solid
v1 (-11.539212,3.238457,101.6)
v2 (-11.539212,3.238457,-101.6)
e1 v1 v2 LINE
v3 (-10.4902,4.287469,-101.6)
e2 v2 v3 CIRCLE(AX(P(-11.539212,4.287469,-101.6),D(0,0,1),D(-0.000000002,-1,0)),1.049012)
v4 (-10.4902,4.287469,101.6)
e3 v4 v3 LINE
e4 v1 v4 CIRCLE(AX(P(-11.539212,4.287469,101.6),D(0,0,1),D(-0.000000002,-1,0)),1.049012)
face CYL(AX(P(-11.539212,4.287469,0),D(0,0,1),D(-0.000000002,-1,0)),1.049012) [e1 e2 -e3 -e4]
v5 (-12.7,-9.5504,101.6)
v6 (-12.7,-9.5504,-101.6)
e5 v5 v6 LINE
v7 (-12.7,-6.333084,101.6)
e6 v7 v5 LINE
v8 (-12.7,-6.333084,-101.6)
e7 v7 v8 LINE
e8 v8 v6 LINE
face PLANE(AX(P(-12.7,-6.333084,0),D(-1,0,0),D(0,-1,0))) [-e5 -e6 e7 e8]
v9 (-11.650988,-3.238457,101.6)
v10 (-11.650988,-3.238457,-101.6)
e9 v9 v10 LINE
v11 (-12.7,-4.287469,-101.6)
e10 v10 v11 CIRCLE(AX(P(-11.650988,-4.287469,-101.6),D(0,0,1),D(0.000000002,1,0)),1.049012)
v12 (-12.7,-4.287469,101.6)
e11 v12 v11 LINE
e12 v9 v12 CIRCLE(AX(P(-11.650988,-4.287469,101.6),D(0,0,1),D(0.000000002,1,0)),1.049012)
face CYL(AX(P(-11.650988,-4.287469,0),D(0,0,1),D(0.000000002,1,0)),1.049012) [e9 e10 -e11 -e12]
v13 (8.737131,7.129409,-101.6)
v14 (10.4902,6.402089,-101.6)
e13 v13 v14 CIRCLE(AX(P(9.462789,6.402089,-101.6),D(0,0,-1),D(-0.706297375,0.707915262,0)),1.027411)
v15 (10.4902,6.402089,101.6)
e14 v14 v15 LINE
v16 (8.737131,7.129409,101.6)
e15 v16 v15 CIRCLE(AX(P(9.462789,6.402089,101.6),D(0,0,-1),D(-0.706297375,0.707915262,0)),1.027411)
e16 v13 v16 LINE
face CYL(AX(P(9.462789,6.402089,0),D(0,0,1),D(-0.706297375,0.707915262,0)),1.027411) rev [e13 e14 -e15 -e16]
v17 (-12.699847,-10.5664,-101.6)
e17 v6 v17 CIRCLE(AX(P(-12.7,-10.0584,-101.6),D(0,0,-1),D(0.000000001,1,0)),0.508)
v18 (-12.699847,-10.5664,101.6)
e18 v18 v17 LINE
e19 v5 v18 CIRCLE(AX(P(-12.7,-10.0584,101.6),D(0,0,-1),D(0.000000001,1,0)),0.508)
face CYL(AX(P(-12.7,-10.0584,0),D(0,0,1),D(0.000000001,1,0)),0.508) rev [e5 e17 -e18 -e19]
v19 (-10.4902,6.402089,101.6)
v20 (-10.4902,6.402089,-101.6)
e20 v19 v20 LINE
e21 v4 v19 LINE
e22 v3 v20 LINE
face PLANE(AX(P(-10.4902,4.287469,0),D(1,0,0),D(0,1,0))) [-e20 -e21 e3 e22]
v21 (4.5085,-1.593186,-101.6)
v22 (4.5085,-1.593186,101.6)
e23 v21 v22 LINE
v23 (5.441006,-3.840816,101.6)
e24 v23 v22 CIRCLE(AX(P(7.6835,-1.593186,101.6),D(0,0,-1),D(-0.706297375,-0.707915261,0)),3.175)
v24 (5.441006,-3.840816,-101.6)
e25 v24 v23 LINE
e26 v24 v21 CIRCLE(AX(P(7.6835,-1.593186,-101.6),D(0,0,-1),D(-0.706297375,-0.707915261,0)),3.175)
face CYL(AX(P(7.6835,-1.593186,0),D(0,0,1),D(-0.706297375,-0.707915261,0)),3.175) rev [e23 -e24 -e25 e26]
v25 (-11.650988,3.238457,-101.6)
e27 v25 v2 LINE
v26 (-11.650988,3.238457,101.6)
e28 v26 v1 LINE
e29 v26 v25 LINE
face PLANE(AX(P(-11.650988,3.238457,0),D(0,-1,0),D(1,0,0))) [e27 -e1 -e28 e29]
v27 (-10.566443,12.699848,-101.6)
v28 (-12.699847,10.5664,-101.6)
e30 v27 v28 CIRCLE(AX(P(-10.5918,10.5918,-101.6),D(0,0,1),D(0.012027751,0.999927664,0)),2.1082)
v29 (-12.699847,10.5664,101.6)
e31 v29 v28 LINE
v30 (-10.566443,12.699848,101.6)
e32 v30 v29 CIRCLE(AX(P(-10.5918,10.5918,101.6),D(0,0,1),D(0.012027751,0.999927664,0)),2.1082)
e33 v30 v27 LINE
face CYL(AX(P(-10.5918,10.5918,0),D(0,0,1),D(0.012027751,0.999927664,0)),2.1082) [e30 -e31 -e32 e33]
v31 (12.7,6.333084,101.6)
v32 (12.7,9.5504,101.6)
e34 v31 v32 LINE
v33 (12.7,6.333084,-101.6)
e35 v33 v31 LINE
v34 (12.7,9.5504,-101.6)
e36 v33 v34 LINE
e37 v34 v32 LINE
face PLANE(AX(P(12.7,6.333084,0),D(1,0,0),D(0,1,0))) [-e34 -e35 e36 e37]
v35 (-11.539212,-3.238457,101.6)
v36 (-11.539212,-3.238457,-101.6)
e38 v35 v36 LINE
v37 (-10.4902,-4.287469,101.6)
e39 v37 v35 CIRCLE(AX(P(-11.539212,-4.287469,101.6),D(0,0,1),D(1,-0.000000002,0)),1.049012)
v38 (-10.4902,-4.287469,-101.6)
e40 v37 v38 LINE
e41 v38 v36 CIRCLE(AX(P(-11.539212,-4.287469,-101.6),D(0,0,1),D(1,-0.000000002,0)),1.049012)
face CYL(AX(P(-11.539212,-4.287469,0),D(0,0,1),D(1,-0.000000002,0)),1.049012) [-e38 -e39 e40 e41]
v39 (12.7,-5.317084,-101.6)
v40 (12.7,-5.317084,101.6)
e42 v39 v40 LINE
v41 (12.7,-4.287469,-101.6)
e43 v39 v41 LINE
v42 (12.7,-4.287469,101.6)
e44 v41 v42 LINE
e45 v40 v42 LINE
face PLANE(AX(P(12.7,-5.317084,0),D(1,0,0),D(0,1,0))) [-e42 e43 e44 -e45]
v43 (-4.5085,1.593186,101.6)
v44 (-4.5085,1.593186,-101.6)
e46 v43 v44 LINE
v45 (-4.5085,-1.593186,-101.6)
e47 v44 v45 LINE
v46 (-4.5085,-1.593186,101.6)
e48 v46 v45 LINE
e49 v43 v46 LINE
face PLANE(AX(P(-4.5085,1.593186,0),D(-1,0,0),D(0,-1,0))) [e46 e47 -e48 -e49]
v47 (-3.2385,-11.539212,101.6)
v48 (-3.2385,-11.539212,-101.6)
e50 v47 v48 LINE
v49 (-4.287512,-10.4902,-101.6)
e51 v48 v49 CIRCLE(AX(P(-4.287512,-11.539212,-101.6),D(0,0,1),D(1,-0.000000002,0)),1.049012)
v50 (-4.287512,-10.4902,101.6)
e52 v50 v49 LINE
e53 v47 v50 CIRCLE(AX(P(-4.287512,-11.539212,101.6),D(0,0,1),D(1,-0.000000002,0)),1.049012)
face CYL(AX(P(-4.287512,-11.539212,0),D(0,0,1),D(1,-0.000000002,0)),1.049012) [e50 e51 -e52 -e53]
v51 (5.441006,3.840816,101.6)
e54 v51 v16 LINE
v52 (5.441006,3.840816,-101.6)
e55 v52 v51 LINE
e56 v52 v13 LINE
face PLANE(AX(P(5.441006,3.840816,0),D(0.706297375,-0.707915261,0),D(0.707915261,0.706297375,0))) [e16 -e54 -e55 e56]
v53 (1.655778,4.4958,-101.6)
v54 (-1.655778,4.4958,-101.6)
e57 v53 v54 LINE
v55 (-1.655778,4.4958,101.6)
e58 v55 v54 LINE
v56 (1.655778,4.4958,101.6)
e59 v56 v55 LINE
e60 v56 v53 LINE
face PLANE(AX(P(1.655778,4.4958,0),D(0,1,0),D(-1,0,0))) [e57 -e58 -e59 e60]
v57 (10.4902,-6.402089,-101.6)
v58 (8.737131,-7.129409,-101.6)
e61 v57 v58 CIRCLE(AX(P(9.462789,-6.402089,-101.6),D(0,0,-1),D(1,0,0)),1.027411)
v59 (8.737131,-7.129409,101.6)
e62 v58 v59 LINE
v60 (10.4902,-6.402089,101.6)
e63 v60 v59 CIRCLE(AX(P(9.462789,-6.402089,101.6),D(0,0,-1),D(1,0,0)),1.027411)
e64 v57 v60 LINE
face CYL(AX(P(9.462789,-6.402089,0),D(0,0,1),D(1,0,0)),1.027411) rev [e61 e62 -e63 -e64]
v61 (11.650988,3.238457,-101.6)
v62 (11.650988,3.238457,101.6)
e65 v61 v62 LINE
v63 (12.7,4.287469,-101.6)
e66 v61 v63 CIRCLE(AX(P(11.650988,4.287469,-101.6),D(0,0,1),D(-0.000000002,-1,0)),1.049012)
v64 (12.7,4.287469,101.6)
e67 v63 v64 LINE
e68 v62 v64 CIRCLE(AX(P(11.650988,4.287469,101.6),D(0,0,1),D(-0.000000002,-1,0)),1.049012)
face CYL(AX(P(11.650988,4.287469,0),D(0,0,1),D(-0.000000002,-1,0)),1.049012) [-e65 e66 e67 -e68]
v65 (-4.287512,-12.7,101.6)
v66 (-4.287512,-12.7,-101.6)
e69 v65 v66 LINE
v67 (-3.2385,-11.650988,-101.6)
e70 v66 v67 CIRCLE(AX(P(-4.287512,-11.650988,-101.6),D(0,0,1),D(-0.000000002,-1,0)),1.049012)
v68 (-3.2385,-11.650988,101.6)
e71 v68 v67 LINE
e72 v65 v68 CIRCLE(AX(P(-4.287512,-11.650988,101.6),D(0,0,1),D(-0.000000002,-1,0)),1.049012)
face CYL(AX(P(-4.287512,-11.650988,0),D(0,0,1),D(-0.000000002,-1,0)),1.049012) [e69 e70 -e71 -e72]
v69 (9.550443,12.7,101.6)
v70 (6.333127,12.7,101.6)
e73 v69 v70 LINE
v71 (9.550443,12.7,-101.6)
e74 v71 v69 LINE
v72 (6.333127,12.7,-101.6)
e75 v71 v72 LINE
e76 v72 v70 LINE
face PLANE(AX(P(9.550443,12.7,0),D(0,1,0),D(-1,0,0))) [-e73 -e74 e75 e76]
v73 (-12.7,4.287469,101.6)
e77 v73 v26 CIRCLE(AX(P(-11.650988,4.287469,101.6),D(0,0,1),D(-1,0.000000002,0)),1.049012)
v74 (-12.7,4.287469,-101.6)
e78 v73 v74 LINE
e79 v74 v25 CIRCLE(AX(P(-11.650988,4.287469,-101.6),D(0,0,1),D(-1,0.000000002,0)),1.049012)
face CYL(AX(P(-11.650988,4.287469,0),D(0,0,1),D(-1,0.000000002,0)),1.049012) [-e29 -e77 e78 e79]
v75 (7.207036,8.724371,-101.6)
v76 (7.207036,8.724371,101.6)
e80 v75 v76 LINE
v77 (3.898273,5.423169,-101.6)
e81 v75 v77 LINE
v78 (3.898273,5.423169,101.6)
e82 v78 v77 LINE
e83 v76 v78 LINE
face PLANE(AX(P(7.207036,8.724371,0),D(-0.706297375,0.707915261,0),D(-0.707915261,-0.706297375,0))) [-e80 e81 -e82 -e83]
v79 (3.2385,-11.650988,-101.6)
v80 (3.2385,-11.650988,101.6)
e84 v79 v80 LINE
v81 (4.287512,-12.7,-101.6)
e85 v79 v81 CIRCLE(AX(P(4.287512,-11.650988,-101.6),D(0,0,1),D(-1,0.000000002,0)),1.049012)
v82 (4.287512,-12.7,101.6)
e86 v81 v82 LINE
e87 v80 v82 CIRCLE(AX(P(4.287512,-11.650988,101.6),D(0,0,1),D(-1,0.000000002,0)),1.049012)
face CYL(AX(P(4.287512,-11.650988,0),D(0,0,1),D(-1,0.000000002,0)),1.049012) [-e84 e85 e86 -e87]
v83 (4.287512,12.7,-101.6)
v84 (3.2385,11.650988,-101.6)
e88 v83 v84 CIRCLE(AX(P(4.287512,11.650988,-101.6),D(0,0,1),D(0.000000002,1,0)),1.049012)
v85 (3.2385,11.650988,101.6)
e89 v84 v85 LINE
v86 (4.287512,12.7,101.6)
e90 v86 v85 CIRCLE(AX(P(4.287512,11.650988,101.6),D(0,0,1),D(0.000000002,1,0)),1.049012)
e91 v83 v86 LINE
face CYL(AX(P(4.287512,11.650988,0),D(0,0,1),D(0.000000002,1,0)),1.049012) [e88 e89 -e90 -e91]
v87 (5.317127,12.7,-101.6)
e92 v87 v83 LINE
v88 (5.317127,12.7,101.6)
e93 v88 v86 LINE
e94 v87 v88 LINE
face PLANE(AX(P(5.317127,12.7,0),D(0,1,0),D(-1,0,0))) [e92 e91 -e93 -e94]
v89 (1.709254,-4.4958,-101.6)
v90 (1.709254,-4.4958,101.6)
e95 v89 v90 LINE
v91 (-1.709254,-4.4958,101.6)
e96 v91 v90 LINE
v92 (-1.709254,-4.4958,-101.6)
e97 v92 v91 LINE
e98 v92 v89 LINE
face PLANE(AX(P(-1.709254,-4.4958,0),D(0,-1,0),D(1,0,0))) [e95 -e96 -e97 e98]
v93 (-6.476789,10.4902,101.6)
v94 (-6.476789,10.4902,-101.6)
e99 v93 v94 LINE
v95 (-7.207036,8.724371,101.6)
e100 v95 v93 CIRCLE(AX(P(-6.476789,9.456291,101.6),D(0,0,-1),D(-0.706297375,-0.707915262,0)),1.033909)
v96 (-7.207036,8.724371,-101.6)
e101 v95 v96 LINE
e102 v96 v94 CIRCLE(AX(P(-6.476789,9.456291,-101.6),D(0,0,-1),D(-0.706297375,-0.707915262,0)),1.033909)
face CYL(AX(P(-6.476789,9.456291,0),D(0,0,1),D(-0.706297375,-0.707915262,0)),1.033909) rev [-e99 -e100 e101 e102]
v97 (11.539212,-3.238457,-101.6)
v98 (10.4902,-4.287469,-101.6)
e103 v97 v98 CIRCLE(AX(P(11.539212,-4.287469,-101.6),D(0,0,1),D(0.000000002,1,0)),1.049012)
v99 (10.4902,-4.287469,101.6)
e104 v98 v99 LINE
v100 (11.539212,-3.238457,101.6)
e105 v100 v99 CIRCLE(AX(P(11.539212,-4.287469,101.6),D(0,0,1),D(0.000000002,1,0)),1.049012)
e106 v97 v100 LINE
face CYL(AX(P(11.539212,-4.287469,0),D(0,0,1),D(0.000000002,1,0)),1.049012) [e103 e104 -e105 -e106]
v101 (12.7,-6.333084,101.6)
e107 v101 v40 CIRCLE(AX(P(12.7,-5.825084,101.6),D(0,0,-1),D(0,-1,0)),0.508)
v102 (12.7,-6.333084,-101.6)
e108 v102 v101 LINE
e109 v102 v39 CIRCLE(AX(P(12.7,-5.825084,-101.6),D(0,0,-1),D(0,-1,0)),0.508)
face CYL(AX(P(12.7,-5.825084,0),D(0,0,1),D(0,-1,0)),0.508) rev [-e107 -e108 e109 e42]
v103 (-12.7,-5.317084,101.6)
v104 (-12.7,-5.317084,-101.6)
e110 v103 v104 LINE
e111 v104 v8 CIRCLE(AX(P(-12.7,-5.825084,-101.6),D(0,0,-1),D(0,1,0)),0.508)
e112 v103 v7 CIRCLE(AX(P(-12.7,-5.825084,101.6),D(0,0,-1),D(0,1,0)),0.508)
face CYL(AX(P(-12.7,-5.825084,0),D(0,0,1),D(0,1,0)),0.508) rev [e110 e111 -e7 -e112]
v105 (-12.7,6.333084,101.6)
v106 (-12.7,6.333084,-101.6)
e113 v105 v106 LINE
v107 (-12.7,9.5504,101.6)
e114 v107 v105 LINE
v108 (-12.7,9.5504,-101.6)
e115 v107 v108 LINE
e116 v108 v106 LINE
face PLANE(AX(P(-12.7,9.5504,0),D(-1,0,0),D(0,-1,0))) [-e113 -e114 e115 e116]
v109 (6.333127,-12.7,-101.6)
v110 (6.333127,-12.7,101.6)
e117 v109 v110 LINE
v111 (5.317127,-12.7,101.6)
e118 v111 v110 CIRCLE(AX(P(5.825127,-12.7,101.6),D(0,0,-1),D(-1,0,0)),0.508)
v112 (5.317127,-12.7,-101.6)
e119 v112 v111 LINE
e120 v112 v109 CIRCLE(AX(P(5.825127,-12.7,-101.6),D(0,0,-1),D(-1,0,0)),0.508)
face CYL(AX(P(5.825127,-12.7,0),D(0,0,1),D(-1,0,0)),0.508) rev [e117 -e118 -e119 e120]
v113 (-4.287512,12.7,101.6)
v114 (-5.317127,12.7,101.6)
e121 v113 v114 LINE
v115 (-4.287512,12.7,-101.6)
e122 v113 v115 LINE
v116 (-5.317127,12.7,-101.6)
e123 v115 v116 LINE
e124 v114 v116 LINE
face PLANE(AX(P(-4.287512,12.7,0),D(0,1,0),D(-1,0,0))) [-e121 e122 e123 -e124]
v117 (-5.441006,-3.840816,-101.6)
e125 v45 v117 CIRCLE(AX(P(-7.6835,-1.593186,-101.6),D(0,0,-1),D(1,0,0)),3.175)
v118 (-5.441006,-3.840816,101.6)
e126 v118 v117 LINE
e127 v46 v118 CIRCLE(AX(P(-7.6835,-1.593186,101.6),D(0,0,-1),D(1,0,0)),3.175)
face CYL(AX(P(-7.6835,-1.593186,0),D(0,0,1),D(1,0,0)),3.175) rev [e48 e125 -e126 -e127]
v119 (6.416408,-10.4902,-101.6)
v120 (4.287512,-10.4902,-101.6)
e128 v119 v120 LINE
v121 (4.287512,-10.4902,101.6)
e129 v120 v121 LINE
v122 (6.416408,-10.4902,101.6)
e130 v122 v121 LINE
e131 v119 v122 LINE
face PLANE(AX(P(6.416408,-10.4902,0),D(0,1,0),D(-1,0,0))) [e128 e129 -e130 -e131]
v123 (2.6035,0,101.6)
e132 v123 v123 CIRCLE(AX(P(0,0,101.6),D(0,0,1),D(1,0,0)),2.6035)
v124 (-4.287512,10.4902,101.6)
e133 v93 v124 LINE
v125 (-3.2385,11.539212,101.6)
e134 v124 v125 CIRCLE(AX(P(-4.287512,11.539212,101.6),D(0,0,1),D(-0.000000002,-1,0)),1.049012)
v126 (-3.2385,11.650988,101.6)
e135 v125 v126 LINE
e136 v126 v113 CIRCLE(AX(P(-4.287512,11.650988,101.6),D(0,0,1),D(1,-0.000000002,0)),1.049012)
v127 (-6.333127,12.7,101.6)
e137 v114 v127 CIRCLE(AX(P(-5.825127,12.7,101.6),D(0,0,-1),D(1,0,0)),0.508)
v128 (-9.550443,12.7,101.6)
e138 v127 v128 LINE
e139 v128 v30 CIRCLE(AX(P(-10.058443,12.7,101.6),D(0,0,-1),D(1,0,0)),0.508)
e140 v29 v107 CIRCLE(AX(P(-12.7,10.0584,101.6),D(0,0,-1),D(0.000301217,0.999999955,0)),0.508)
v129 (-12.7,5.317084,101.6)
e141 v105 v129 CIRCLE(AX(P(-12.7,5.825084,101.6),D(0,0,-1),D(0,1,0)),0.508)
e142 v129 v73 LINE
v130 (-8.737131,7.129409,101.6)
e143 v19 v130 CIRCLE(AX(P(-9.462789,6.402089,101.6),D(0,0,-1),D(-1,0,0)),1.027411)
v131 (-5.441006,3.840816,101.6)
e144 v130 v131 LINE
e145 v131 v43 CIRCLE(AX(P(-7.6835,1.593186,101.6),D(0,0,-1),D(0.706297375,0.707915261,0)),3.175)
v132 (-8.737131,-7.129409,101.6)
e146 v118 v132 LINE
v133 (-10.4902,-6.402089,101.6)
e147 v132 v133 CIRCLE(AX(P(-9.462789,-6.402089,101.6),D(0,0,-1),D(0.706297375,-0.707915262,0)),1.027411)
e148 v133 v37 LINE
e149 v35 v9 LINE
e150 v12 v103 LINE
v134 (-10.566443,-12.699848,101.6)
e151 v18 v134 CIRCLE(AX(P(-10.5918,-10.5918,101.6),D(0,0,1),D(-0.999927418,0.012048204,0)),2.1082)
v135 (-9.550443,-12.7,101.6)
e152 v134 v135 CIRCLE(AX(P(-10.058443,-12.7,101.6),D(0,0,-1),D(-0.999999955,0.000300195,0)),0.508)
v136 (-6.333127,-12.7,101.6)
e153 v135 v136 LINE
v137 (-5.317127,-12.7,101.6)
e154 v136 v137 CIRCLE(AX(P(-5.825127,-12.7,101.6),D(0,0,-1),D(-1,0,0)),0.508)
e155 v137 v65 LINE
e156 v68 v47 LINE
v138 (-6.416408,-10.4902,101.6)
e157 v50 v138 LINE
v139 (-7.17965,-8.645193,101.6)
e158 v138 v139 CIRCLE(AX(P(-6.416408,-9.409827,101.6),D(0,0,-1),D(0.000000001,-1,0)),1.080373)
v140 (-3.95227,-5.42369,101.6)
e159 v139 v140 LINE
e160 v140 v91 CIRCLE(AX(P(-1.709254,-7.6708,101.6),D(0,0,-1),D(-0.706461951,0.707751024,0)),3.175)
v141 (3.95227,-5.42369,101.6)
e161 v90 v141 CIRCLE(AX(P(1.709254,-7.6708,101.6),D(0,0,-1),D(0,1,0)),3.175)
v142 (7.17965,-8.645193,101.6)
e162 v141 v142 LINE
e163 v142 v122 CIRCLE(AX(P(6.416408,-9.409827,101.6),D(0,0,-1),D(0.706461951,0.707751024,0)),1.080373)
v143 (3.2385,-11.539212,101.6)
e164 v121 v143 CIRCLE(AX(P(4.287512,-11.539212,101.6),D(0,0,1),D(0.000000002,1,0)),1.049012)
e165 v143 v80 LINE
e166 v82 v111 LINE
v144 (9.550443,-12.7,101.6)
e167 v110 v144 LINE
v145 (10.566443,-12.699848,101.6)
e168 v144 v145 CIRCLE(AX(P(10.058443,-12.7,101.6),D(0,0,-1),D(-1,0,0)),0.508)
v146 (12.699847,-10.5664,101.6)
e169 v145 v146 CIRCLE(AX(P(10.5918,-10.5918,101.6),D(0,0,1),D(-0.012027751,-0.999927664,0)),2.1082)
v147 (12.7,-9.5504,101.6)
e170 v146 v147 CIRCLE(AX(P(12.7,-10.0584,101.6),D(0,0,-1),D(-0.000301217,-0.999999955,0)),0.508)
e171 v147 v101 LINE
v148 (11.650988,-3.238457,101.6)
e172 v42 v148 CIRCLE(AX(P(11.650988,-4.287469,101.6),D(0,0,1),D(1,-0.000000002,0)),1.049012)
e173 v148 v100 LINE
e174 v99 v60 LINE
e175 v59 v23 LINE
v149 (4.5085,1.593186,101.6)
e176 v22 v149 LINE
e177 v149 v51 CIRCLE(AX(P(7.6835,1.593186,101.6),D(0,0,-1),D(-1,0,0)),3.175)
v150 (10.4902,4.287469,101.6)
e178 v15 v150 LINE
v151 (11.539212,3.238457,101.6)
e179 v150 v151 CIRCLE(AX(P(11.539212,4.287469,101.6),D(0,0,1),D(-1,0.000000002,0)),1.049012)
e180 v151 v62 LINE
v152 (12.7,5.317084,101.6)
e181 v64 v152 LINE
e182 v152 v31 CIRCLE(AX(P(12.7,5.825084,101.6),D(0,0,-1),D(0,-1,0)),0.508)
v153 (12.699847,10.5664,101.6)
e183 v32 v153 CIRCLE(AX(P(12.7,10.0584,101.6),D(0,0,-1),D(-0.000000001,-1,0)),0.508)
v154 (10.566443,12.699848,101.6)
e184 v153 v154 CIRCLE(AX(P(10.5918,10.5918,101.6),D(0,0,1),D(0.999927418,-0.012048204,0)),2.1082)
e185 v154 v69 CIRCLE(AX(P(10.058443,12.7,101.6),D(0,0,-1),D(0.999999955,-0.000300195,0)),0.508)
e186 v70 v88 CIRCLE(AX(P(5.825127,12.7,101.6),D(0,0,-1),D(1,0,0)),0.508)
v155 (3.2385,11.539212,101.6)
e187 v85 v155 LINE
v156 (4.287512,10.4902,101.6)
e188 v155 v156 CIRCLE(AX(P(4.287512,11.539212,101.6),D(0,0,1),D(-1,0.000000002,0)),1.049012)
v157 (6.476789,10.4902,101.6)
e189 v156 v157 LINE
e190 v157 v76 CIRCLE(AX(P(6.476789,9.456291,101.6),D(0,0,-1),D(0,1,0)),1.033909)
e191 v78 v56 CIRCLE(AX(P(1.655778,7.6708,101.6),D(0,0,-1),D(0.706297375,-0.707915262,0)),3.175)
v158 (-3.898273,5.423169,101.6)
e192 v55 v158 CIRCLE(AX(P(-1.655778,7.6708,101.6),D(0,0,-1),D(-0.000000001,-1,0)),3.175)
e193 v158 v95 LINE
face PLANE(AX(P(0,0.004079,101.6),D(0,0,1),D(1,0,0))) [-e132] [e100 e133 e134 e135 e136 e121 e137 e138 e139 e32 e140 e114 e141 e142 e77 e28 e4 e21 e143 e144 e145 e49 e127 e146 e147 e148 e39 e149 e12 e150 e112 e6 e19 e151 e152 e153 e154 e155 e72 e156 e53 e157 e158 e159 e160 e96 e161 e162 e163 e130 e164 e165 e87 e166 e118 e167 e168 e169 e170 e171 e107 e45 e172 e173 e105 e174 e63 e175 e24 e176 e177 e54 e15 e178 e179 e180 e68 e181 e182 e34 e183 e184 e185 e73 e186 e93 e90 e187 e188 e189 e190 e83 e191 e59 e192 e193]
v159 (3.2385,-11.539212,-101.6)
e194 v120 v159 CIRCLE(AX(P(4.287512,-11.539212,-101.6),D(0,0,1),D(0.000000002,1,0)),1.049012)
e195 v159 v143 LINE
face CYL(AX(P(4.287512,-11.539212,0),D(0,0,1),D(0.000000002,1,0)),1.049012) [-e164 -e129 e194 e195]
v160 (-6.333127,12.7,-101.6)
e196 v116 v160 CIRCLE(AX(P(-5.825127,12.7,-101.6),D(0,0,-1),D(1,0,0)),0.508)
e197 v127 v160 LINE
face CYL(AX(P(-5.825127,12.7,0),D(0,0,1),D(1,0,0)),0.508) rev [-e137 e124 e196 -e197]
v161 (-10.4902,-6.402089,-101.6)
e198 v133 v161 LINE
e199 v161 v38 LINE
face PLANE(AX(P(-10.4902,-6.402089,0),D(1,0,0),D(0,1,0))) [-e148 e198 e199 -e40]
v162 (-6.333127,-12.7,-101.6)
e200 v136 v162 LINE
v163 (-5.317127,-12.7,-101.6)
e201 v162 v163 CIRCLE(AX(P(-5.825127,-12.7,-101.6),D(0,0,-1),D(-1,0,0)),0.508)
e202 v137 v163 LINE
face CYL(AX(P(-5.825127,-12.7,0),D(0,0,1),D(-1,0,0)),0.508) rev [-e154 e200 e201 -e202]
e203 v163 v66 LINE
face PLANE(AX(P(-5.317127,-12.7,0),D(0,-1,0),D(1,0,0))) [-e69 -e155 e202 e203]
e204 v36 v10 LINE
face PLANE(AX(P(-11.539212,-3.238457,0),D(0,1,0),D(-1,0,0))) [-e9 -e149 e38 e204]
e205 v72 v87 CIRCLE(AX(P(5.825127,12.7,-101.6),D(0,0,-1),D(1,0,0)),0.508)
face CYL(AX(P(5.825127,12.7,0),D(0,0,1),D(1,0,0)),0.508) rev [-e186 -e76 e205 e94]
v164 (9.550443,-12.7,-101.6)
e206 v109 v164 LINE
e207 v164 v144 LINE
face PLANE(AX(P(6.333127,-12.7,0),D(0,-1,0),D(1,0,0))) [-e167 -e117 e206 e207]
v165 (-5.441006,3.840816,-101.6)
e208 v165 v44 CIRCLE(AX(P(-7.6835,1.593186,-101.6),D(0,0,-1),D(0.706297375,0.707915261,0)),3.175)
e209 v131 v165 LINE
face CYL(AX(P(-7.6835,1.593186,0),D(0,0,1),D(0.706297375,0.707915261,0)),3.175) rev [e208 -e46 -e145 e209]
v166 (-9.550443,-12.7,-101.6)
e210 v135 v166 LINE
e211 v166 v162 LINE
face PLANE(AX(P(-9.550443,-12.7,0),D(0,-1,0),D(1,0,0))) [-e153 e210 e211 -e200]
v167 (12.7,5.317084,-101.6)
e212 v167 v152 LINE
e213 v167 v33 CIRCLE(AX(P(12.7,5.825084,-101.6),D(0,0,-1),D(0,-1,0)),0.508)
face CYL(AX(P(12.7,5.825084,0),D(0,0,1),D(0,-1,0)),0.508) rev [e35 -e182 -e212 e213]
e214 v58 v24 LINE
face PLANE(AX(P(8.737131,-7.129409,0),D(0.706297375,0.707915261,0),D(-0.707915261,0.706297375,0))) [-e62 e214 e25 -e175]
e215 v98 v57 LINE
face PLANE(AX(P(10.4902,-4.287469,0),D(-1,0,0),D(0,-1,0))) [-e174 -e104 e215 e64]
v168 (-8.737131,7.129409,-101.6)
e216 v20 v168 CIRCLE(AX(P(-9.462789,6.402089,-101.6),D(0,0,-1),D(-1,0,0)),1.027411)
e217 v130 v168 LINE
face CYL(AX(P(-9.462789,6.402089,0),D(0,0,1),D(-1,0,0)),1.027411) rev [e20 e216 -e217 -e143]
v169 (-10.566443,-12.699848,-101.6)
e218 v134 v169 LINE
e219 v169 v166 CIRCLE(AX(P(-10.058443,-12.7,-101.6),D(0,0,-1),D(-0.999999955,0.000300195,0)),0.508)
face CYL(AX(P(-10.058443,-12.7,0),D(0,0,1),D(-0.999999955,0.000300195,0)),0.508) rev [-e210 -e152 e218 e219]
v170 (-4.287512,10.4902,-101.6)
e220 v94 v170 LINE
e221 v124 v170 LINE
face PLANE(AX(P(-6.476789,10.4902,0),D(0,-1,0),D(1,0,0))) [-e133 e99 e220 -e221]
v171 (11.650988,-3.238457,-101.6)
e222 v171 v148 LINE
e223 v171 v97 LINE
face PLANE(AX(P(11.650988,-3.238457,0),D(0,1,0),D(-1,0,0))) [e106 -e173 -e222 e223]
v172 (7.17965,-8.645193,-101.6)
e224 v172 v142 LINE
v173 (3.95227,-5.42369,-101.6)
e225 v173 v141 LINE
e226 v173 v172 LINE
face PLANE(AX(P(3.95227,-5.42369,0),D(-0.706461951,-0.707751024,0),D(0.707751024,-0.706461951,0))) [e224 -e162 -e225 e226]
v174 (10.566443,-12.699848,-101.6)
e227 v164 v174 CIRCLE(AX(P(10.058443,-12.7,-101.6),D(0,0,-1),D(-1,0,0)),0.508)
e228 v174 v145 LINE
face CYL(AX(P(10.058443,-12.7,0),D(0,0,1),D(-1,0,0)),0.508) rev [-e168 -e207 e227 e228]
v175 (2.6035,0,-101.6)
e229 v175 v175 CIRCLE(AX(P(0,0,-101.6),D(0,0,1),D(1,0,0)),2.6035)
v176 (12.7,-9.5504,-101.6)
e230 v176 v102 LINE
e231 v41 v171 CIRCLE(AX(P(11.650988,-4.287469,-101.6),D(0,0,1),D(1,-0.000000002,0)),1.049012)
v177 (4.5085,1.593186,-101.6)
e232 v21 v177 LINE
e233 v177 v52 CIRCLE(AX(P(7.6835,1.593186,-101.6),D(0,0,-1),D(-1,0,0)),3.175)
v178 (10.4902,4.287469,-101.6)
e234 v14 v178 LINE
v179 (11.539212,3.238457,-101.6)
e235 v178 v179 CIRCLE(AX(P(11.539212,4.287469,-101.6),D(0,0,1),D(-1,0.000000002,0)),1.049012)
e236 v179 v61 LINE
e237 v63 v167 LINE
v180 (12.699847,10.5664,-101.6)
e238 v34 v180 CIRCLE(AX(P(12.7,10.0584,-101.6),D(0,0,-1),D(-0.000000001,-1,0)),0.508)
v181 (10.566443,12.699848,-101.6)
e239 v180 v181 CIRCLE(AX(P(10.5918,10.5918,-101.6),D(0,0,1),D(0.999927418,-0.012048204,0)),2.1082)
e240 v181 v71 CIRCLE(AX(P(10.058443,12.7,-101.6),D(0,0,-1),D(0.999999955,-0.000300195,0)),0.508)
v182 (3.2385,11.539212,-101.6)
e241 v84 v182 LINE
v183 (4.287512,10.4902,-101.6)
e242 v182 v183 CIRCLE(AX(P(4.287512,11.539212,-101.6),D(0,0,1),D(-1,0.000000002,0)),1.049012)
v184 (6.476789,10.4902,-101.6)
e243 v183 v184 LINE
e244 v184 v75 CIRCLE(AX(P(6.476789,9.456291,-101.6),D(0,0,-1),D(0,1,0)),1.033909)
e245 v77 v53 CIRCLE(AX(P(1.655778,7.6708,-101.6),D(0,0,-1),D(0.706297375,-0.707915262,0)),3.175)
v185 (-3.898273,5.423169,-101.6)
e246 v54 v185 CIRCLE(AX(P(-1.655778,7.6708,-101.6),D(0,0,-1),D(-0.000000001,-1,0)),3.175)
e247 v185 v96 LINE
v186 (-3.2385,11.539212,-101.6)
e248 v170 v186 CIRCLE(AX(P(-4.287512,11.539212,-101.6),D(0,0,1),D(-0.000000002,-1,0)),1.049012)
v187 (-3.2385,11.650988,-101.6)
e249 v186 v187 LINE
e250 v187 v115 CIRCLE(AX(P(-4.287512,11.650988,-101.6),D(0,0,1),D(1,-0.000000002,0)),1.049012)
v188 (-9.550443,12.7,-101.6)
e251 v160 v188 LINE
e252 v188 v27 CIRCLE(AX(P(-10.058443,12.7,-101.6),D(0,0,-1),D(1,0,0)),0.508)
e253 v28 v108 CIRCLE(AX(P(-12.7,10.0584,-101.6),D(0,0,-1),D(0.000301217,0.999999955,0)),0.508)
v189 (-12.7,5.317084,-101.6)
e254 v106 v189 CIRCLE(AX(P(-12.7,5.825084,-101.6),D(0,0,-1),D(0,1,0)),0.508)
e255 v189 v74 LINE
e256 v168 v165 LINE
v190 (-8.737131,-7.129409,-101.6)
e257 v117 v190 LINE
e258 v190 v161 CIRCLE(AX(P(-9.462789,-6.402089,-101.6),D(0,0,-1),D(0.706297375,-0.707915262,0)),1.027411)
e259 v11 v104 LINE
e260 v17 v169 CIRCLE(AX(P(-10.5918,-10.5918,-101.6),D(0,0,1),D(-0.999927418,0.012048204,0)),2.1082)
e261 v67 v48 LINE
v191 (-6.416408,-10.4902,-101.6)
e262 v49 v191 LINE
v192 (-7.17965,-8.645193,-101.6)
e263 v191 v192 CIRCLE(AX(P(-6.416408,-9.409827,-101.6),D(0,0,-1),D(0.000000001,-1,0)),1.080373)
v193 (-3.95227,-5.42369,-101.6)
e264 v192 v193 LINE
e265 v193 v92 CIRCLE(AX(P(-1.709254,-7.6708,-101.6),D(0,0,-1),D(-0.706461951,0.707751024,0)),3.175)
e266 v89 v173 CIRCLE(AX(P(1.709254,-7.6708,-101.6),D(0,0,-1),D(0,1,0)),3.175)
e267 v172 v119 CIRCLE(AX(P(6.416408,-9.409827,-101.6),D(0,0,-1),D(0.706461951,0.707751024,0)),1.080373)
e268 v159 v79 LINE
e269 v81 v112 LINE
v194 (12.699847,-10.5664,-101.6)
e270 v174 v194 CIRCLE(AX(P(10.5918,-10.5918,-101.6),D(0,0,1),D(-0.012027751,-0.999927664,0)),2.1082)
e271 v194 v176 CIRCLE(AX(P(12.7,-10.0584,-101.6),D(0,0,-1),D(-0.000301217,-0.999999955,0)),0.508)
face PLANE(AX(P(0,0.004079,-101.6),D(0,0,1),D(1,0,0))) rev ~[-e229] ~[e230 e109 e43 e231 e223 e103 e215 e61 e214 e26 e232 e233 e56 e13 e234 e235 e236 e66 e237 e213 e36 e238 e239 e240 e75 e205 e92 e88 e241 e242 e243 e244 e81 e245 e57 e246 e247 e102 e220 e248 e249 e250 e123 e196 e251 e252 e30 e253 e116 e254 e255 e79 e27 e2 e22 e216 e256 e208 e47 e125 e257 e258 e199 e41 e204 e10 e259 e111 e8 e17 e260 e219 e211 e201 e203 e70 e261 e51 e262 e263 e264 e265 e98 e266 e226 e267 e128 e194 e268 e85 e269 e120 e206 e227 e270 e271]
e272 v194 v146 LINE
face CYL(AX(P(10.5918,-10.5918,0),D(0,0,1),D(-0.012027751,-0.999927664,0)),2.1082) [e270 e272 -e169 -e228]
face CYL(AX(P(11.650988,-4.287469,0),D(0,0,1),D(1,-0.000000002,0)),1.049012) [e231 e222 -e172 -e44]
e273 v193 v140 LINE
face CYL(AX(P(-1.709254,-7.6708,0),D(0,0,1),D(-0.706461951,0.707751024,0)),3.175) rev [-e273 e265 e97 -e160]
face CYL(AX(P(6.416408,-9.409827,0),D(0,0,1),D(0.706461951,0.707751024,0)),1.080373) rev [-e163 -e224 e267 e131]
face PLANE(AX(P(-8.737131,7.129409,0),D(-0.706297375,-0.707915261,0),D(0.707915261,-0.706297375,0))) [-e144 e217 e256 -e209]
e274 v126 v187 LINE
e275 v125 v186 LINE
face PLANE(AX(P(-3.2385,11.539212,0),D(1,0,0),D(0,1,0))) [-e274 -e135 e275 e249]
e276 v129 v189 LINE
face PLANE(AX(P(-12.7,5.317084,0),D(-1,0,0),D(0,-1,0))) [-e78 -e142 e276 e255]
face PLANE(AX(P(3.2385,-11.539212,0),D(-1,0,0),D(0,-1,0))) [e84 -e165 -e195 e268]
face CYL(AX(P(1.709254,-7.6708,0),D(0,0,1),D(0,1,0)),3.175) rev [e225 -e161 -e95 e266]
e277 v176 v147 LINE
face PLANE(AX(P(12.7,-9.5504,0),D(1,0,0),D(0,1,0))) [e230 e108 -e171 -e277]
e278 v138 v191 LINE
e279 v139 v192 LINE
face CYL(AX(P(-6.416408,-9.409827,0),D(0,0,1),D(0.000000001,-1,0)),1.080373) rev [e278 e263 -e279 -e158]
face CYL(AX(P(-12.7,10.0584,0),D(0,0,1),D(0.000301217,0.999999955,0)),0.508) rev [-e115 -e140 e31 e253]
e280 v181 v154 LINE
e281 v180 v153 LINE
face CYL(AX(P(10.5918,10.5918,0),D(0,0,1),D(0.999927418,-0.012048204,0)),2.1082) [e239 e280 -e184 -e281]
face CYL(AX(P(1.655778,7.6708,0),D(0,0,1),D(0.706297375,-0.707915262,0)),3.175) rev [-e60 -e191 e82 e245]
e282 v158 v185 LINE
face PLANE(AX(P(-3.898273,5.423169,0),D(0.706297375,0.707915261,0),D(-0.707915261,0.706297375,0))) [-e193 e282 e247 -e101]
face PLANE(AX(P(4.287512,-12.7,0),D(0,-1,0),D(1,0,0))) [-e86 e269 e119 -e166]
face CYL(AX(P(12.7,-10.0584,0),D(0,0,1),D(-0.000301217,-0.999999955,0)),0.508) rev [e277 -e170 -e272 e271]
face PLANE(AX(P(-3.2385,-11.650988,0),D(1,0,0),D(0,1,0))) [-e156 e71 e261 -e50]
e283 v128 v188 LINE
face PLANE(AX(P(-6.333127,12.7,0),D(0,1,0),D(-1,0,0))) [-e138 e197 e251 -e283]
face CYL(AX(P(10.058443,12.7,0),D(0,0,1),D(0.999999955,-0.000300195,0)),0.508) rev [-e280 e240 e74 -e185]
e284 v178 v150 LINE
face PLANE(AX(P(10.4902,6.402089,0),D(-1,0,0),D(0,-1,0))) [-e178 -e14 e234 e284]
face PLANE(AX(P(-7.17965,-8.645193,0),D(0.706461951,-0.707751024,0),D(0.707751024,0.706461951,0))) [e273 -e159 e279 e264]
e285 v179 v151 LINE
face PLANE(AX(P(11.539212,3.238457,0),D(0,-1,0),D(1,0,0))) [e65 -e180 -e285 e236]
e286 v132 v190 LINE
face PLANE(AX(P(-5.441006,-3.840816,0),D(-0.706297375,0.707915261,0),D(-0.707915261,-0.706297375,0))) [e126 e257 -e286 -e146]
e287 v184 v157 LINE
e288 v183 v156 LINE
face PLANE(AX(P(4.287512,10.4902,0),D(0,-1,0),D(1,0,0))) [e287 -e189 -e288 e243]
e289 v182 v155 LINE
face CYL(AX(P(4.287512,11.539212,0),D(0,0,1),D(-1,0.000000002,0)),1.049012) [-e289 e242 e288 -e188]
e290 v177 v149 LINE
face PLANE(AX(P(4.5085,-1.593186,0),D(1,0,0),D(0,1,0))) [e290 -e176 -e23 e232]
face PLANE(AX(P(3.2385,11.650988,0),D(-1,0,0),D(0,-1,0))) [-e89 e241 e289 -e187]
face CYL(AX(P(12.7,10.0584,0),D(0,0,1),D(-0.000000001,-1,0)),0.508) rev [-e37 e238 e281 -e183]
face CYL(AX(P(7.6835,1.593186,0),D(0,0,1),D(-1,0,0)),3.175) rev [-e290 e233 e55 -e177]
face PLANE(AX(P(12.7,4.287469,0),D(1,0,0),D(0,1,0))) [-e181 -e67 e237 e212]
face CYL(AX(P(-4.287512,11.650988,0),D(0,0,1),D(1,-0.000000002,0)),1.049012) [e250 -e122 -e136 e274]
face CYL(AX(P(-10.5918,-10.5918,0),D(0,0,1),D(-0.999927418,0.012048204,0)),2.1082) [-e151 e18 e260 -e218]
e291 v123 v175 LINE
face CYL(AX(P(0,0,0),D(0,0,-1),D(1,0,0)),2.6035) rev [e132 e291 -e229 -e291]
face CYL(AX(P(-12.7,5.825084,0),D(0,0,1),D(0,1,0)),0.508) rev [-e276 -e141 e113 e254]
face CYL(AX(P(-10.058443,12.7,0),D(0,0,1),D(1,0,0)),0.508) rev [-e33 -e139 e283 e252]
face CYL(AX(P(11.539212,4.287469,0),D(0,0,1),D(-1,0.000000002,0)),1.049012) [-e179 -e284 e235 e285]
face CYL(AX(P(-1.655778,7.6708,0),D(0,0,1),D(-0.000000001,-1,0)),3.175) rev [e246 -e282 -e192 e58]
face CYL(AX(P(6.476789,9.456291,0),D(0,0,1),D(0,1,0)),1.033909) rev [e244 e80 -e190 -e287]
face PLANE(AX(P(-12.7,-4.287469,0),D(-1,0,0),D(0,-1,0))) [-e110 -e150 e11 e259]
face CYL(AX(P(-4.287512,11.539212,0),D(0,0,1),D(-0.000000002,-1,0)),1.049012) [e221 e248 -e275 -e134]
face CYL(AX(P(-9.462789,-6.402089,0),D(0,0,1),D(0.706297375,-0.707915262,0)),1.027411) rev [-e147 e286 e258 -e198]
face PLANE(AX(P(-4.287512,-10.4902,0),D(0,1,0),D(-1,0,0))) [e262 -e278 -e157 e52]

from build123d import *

# Parameters (mm, degrees)
SKETCH3_R           = 2.6035
BOSS_EXTRUDE1_DEPTH = 101.6


with BuildPart() as part:
    # Sketch3 → Boss-Extrude1 (new body, symmetric)
    with BuildSketch(Plane.XY):
        with BuildLine():
            Line((-7.179650497, -8.645192506), (-3.952270251, -5.423690499))
            ThreePointArc((-3.952270251, -5.423690499), (-2.922936451, -4.736929036), (-1.709253557, -4.4958))
            Line((-1.709253557, -4.4958), (1.709253557, -4.4958))
            ThreePointArc((1.709253557, -4.4958), (2.922936451, -4.736929036), (3.952270251, -5.423690499))
            Line((3.952270251, -5.423690499), (7.179650497, -8.645192506))
            ThreePointArc((7.179650497, -8.645192506), (7.41473083, -9.822813117), (6.416408329, -10.4902))
            Line((6.416408329, -10.4902), (4.287512407, -10.4902))
            ThreePointArc((4.287512407, -10.4902), (3.54574862, -10.79744862), (3.2385, -11.539212407))
            Line((3.2385, -11.539212407), (3.2385, -11.650987593))
            ThreePointArc((3.2385, -11.650987593), (3.54574862, -12.39275138), (4.287512407, -12.7))
            Line((4.287512407, -12.7), (5.317126718, -12.7))
            ThreePointArc((5.317126718, -12.7), (5.825126718, -12.192), (6.333126718, -12.7))
            Line((6.333126718, -12.7), (9.550443118, -12.7))
            ThreePointArc((9.550443118, -12.7), (10.058366869, -12.192000006), (10.566443095, -12.699847501))
            ThreePointArc((10.566443095, -12.699847501), (12.082537762, -12.08250727), (12.699846982, -10.566399977))
            ThreePointArc((12.699846982, -10.566399977), (12.192000006, -10.058323491), (12.7, -9.5504))
            Line((12.7, -9.5504), (12.7, -6.3330836))
            ThreePointArc((12.7, -6.3330836), (12.192, -5.8250836), (12.7, -5.3170836))
            Line((12.7, -5.3170836), (12.7, -4.287469289))
            ThreePointArc((12.7, -4.287469289), (12.39275138, -3.545705502), (11.650987593, -3.238456882))
            Line((11.650987593, -3.238456882), (11.539212407, -3.238456882))
            ThreePointArc((11.539212407, -3.238456882), (10.79744862, -3.545705502), (10.4902, -4.287469289))
            Line((10.4902, -4.287469289), (10.4902, -6.402089023))
            ThreePointArc((10.4902, -6.402089023), (9.856505071, -7.351067942), (8.737131347, -7.129408934))
            Line((8.737131347, -7.129408934), (5.441005833, -3.840816462))
            ThreePointArc((5.441005833, -3.840816462), (4.750877967, -2.809883091), (4.5085, -1.593185507))
            Line((4.5085, -1.593185507), (4.5085, 1.593185507))
            ThreePointArc((4.5085, 1.593185507), (4.750877967, 2.809883091), (5.441005833, 3.840816462))
            Line((5.441005833, 3.840816462), (8.737131347, 7.129408934))
            ThreePointArc((8.737131347, 7.129408934), (9.856505071, 7.351067942), (10.4902, 6.402089023))
            Line((10.4902, 6.402089023), (10.4902, 4.287469289))
            ThreePointArc((10.4902, 4.287469289), (10.79744862, 3.545705502), (11.539212407, 3.238456882))
            Line((11.539212407, 3.238456882), (11.650987593, 3.238456882))
            ThreePointArc((11.650987593, 3.238456882), (12.39275138, 3.545705502), (12.7, 4.287469289))
            Line((12.7, 4.287469289), (12.7, 5.3170836))
            ThreePointArc((12.7, 5.3170836), (12.192, 5.8250836), (12.7, 6.3330836))
            Line((12.7, 6.3330836), (12.7, 9.5504))
            ThreePointArc((12.7, 9.5504), (12.192000006, 10.058323491), (12.699846982, 10.566399977))
            ThreePointArc((12.699846982, 10.566399977), (12.082537762, 12.08250727), (10.566443095, 12.699847501))
            ThreePointArc((10.566443095, 12.699847501), (10.058366869, 12.192000006), (9.550443118, 12.7))
            Line((9.550443118, 12.7), (6.333126718, 12.7))
            ThreePointArc((6.333126718, 12.7), (5.825126718, 12.192), (5.317126718, 12.7))
            Line((5.317126718, 12.7), (4.287512407, 12.7))
            ThreePointArc((4.287512407, 12.7), (3.54574862, 12.39275138), (3.2385, 11.650987593))
            Line((3.2385, 11.650987593), (3.2385, 11.539212407))
            ThreePointArc((3.2385, 11.539212407), (3.54574862, 10.79744862), (4.287512407, 10.4902))
            Line((4.287512407, 10.4902), (6.476788598, 10.4902))
            ThreePointArc((6.476788598, 10.4902), (7.432222385, 9.85140422), (7.207036008, 8.724370562))
            Line((7.207036008, 8.724370562), (3.898272566, 5.423169045))
            ThreePointArc((3.898272566, 5.423169045), (2.869120213, 4.736787962), (1.655778399, 4.4958))
            Line((1.655778399, 4.4958), (-1.655778399, 4.4958))
            ThreePointArc((-1.655778399, 4.4958), (-2.869120213, 4.736787962), (-3.898272566, 5.423169045))
            Line((-3.898272566, 5.423169045), (-7.207036008, 8.724370562))
            ThreePointArc((-7.207036008, 8.724370562), (-7.432222385, 9.85140422), (-6.476788598, 10.4902))
            Line((-6.476788598, 10.4902), (-4.287512407, 10.4902))
            ThreePointArc((-4.287512407, 10.4902), (-3.54574862, 10.79744862), (-3.2385, 11.539212407))
            Line((-3.2385, 11.539212407), (-3.2385, 11.650987593))
            ThreePointArc((-3.2385, 11.650987593), (-3.54574862, 12.39275138), (-4.287512407, 12.7))
            Line((-4.287512407, 12.7), (-5.317126718, 12.7))
            ThreePointArc((-5.317126718, 12.7), (-5.825126718, 12.192), (-6.333126718, 12.7))
            Line((-6.333126718, 12.7), (-9.550443118, 12.7))
            ThreePointArc((-9.550443118, 12.7), (-10.058366869, 12.192000006), (-10.566443095, 12.699847501))
            ThreePointArc((-10.566443095, 12.699847501), (-12.082537762, 12.08250727), (-12.699846982, 10.566399977))
            ThreePointArc((-12.699846982, 10.566399977), (-12.192000006, 10.058323491), (-12.7, 9.5504))
            Line((-12.7, 9.5504), (-12.7, 6.3330836))
            ThreePointArc((-12.7, 6.3330836), (-12.192, 5.8250836), (-12.7, 5.3170836))
            Line((-12.7, 5.3170836), (-12.7, 4.287469289))
            ThreePointArc((-12.7, 4.287469289), (-12.39275138, 3.545705502), (-11.650987593, 3.238456882))
            Line((-11.650987593, 3.238456882), (-11.539212407, 3.238456882))
            ThreePointArc((-11.539212407, 3.238456882), (-10.79744862, 3.545705502), (-10.4902, 4.287469289))
            Line((-10.4902, 4.287469289), (-10.4902, 6.402089023))
            ThreePointArc((-10.4902, 6.402089023), (-9.856505071, 7.351067942), (-8.737131347, 7.129408934))
            Line((-8.737131347, 7.129408934), (-5.441005833, 3.840816462))
            ThreePointArc((-5.441005833, 3.840816462), (-4.750877967, 2.809883091), (-4.5085, 1.593185507))
            Line((-4.5085, 1.593185507), (-4.5085, -1.593185507))
            ThreePointArc((-4.5085, -1.593185507), (-4.750877967, -2.809883091), (-5.441005833, -3.840816462))
            Line((-5.441005833, -3.840816462), (-8.737131347, -7.129408934))
            ThreePointArc((-8.737131347, -7.129408934), (-9.856505071, -7.351067942), (-10.4902, -6.402089023))
            Line((-10.4902, -6.402089023), (-10.4902, -4.287469289))
            ThreePointArc((-10.4902, -4.287469289), (-10.79744862, -3.545705502), (-11.539212407, -3.238456882))
            Line((-11.539212407, -3.238456882), (-11.650987593, -3.238456882))
            ThreePointArc((-11.650987593, -3.238456882), (-12.39275138, -3.545705502), (-12.7, -4.287469289))
            Line((-12.7, -4.287469289), (-12.7, -5.3170836))
            ThreePointArc((-12.7, -5.3170836), (-12.192, -5.8250836), (-12.7, -6.3330836))
            Line((-12.7, -6.3330836), (-12.7, -9.5504))
            ThreePointArc((-12.7, -9.5504), (-12.192000006, -10.058323491), (-12.699846982, -10.566399977))
            ThreePointArc((-12.699846982, -10.566399977), (-12.082537762, -12.08250727), (-10.566443095, -12.699847501))
            ThreePointArc((-10.566443095, -12.699847501), (-10.058366869, -12.192000006), (-9.550443118, -12.7))
            Line((-9.550443118, -12.7), (-6.333126718, -12.7))
            ThreePointArc((-6.333126718, -12.7), (-5.825126718, -12.192), (-5.317126718, -12.7))
            Line((-5.317126718, -12.7), (-4.287512407, -12.7))
            ThreePointArc((-4.287512407, -12.7), (-3.54574862, -12.39275138), (-3.2385, -11.650987593))
            Line((-3.2385, -11.650987593), (-3.2385, -11.539212407))
            ThreePointArc((-3.2385, -11.539212407), (-3.54574862, -10.79744862), (-4.287512407, -10.4902))
            Line((-4.287512407, -10.4902), (-6.416408329, -10.4902))
            ThreePointArc((-6.416408329, -10.4902), (-7.41473083, -9.822813117), (-7.179650497, -8.645192506))
        make_face()
        Circle(SKETCH3_R, mode=Mode.SUBTRACT)
    extrude(amount=BOSS_EXTRUDE1_DEPTH, both=True)


solid = part.part
